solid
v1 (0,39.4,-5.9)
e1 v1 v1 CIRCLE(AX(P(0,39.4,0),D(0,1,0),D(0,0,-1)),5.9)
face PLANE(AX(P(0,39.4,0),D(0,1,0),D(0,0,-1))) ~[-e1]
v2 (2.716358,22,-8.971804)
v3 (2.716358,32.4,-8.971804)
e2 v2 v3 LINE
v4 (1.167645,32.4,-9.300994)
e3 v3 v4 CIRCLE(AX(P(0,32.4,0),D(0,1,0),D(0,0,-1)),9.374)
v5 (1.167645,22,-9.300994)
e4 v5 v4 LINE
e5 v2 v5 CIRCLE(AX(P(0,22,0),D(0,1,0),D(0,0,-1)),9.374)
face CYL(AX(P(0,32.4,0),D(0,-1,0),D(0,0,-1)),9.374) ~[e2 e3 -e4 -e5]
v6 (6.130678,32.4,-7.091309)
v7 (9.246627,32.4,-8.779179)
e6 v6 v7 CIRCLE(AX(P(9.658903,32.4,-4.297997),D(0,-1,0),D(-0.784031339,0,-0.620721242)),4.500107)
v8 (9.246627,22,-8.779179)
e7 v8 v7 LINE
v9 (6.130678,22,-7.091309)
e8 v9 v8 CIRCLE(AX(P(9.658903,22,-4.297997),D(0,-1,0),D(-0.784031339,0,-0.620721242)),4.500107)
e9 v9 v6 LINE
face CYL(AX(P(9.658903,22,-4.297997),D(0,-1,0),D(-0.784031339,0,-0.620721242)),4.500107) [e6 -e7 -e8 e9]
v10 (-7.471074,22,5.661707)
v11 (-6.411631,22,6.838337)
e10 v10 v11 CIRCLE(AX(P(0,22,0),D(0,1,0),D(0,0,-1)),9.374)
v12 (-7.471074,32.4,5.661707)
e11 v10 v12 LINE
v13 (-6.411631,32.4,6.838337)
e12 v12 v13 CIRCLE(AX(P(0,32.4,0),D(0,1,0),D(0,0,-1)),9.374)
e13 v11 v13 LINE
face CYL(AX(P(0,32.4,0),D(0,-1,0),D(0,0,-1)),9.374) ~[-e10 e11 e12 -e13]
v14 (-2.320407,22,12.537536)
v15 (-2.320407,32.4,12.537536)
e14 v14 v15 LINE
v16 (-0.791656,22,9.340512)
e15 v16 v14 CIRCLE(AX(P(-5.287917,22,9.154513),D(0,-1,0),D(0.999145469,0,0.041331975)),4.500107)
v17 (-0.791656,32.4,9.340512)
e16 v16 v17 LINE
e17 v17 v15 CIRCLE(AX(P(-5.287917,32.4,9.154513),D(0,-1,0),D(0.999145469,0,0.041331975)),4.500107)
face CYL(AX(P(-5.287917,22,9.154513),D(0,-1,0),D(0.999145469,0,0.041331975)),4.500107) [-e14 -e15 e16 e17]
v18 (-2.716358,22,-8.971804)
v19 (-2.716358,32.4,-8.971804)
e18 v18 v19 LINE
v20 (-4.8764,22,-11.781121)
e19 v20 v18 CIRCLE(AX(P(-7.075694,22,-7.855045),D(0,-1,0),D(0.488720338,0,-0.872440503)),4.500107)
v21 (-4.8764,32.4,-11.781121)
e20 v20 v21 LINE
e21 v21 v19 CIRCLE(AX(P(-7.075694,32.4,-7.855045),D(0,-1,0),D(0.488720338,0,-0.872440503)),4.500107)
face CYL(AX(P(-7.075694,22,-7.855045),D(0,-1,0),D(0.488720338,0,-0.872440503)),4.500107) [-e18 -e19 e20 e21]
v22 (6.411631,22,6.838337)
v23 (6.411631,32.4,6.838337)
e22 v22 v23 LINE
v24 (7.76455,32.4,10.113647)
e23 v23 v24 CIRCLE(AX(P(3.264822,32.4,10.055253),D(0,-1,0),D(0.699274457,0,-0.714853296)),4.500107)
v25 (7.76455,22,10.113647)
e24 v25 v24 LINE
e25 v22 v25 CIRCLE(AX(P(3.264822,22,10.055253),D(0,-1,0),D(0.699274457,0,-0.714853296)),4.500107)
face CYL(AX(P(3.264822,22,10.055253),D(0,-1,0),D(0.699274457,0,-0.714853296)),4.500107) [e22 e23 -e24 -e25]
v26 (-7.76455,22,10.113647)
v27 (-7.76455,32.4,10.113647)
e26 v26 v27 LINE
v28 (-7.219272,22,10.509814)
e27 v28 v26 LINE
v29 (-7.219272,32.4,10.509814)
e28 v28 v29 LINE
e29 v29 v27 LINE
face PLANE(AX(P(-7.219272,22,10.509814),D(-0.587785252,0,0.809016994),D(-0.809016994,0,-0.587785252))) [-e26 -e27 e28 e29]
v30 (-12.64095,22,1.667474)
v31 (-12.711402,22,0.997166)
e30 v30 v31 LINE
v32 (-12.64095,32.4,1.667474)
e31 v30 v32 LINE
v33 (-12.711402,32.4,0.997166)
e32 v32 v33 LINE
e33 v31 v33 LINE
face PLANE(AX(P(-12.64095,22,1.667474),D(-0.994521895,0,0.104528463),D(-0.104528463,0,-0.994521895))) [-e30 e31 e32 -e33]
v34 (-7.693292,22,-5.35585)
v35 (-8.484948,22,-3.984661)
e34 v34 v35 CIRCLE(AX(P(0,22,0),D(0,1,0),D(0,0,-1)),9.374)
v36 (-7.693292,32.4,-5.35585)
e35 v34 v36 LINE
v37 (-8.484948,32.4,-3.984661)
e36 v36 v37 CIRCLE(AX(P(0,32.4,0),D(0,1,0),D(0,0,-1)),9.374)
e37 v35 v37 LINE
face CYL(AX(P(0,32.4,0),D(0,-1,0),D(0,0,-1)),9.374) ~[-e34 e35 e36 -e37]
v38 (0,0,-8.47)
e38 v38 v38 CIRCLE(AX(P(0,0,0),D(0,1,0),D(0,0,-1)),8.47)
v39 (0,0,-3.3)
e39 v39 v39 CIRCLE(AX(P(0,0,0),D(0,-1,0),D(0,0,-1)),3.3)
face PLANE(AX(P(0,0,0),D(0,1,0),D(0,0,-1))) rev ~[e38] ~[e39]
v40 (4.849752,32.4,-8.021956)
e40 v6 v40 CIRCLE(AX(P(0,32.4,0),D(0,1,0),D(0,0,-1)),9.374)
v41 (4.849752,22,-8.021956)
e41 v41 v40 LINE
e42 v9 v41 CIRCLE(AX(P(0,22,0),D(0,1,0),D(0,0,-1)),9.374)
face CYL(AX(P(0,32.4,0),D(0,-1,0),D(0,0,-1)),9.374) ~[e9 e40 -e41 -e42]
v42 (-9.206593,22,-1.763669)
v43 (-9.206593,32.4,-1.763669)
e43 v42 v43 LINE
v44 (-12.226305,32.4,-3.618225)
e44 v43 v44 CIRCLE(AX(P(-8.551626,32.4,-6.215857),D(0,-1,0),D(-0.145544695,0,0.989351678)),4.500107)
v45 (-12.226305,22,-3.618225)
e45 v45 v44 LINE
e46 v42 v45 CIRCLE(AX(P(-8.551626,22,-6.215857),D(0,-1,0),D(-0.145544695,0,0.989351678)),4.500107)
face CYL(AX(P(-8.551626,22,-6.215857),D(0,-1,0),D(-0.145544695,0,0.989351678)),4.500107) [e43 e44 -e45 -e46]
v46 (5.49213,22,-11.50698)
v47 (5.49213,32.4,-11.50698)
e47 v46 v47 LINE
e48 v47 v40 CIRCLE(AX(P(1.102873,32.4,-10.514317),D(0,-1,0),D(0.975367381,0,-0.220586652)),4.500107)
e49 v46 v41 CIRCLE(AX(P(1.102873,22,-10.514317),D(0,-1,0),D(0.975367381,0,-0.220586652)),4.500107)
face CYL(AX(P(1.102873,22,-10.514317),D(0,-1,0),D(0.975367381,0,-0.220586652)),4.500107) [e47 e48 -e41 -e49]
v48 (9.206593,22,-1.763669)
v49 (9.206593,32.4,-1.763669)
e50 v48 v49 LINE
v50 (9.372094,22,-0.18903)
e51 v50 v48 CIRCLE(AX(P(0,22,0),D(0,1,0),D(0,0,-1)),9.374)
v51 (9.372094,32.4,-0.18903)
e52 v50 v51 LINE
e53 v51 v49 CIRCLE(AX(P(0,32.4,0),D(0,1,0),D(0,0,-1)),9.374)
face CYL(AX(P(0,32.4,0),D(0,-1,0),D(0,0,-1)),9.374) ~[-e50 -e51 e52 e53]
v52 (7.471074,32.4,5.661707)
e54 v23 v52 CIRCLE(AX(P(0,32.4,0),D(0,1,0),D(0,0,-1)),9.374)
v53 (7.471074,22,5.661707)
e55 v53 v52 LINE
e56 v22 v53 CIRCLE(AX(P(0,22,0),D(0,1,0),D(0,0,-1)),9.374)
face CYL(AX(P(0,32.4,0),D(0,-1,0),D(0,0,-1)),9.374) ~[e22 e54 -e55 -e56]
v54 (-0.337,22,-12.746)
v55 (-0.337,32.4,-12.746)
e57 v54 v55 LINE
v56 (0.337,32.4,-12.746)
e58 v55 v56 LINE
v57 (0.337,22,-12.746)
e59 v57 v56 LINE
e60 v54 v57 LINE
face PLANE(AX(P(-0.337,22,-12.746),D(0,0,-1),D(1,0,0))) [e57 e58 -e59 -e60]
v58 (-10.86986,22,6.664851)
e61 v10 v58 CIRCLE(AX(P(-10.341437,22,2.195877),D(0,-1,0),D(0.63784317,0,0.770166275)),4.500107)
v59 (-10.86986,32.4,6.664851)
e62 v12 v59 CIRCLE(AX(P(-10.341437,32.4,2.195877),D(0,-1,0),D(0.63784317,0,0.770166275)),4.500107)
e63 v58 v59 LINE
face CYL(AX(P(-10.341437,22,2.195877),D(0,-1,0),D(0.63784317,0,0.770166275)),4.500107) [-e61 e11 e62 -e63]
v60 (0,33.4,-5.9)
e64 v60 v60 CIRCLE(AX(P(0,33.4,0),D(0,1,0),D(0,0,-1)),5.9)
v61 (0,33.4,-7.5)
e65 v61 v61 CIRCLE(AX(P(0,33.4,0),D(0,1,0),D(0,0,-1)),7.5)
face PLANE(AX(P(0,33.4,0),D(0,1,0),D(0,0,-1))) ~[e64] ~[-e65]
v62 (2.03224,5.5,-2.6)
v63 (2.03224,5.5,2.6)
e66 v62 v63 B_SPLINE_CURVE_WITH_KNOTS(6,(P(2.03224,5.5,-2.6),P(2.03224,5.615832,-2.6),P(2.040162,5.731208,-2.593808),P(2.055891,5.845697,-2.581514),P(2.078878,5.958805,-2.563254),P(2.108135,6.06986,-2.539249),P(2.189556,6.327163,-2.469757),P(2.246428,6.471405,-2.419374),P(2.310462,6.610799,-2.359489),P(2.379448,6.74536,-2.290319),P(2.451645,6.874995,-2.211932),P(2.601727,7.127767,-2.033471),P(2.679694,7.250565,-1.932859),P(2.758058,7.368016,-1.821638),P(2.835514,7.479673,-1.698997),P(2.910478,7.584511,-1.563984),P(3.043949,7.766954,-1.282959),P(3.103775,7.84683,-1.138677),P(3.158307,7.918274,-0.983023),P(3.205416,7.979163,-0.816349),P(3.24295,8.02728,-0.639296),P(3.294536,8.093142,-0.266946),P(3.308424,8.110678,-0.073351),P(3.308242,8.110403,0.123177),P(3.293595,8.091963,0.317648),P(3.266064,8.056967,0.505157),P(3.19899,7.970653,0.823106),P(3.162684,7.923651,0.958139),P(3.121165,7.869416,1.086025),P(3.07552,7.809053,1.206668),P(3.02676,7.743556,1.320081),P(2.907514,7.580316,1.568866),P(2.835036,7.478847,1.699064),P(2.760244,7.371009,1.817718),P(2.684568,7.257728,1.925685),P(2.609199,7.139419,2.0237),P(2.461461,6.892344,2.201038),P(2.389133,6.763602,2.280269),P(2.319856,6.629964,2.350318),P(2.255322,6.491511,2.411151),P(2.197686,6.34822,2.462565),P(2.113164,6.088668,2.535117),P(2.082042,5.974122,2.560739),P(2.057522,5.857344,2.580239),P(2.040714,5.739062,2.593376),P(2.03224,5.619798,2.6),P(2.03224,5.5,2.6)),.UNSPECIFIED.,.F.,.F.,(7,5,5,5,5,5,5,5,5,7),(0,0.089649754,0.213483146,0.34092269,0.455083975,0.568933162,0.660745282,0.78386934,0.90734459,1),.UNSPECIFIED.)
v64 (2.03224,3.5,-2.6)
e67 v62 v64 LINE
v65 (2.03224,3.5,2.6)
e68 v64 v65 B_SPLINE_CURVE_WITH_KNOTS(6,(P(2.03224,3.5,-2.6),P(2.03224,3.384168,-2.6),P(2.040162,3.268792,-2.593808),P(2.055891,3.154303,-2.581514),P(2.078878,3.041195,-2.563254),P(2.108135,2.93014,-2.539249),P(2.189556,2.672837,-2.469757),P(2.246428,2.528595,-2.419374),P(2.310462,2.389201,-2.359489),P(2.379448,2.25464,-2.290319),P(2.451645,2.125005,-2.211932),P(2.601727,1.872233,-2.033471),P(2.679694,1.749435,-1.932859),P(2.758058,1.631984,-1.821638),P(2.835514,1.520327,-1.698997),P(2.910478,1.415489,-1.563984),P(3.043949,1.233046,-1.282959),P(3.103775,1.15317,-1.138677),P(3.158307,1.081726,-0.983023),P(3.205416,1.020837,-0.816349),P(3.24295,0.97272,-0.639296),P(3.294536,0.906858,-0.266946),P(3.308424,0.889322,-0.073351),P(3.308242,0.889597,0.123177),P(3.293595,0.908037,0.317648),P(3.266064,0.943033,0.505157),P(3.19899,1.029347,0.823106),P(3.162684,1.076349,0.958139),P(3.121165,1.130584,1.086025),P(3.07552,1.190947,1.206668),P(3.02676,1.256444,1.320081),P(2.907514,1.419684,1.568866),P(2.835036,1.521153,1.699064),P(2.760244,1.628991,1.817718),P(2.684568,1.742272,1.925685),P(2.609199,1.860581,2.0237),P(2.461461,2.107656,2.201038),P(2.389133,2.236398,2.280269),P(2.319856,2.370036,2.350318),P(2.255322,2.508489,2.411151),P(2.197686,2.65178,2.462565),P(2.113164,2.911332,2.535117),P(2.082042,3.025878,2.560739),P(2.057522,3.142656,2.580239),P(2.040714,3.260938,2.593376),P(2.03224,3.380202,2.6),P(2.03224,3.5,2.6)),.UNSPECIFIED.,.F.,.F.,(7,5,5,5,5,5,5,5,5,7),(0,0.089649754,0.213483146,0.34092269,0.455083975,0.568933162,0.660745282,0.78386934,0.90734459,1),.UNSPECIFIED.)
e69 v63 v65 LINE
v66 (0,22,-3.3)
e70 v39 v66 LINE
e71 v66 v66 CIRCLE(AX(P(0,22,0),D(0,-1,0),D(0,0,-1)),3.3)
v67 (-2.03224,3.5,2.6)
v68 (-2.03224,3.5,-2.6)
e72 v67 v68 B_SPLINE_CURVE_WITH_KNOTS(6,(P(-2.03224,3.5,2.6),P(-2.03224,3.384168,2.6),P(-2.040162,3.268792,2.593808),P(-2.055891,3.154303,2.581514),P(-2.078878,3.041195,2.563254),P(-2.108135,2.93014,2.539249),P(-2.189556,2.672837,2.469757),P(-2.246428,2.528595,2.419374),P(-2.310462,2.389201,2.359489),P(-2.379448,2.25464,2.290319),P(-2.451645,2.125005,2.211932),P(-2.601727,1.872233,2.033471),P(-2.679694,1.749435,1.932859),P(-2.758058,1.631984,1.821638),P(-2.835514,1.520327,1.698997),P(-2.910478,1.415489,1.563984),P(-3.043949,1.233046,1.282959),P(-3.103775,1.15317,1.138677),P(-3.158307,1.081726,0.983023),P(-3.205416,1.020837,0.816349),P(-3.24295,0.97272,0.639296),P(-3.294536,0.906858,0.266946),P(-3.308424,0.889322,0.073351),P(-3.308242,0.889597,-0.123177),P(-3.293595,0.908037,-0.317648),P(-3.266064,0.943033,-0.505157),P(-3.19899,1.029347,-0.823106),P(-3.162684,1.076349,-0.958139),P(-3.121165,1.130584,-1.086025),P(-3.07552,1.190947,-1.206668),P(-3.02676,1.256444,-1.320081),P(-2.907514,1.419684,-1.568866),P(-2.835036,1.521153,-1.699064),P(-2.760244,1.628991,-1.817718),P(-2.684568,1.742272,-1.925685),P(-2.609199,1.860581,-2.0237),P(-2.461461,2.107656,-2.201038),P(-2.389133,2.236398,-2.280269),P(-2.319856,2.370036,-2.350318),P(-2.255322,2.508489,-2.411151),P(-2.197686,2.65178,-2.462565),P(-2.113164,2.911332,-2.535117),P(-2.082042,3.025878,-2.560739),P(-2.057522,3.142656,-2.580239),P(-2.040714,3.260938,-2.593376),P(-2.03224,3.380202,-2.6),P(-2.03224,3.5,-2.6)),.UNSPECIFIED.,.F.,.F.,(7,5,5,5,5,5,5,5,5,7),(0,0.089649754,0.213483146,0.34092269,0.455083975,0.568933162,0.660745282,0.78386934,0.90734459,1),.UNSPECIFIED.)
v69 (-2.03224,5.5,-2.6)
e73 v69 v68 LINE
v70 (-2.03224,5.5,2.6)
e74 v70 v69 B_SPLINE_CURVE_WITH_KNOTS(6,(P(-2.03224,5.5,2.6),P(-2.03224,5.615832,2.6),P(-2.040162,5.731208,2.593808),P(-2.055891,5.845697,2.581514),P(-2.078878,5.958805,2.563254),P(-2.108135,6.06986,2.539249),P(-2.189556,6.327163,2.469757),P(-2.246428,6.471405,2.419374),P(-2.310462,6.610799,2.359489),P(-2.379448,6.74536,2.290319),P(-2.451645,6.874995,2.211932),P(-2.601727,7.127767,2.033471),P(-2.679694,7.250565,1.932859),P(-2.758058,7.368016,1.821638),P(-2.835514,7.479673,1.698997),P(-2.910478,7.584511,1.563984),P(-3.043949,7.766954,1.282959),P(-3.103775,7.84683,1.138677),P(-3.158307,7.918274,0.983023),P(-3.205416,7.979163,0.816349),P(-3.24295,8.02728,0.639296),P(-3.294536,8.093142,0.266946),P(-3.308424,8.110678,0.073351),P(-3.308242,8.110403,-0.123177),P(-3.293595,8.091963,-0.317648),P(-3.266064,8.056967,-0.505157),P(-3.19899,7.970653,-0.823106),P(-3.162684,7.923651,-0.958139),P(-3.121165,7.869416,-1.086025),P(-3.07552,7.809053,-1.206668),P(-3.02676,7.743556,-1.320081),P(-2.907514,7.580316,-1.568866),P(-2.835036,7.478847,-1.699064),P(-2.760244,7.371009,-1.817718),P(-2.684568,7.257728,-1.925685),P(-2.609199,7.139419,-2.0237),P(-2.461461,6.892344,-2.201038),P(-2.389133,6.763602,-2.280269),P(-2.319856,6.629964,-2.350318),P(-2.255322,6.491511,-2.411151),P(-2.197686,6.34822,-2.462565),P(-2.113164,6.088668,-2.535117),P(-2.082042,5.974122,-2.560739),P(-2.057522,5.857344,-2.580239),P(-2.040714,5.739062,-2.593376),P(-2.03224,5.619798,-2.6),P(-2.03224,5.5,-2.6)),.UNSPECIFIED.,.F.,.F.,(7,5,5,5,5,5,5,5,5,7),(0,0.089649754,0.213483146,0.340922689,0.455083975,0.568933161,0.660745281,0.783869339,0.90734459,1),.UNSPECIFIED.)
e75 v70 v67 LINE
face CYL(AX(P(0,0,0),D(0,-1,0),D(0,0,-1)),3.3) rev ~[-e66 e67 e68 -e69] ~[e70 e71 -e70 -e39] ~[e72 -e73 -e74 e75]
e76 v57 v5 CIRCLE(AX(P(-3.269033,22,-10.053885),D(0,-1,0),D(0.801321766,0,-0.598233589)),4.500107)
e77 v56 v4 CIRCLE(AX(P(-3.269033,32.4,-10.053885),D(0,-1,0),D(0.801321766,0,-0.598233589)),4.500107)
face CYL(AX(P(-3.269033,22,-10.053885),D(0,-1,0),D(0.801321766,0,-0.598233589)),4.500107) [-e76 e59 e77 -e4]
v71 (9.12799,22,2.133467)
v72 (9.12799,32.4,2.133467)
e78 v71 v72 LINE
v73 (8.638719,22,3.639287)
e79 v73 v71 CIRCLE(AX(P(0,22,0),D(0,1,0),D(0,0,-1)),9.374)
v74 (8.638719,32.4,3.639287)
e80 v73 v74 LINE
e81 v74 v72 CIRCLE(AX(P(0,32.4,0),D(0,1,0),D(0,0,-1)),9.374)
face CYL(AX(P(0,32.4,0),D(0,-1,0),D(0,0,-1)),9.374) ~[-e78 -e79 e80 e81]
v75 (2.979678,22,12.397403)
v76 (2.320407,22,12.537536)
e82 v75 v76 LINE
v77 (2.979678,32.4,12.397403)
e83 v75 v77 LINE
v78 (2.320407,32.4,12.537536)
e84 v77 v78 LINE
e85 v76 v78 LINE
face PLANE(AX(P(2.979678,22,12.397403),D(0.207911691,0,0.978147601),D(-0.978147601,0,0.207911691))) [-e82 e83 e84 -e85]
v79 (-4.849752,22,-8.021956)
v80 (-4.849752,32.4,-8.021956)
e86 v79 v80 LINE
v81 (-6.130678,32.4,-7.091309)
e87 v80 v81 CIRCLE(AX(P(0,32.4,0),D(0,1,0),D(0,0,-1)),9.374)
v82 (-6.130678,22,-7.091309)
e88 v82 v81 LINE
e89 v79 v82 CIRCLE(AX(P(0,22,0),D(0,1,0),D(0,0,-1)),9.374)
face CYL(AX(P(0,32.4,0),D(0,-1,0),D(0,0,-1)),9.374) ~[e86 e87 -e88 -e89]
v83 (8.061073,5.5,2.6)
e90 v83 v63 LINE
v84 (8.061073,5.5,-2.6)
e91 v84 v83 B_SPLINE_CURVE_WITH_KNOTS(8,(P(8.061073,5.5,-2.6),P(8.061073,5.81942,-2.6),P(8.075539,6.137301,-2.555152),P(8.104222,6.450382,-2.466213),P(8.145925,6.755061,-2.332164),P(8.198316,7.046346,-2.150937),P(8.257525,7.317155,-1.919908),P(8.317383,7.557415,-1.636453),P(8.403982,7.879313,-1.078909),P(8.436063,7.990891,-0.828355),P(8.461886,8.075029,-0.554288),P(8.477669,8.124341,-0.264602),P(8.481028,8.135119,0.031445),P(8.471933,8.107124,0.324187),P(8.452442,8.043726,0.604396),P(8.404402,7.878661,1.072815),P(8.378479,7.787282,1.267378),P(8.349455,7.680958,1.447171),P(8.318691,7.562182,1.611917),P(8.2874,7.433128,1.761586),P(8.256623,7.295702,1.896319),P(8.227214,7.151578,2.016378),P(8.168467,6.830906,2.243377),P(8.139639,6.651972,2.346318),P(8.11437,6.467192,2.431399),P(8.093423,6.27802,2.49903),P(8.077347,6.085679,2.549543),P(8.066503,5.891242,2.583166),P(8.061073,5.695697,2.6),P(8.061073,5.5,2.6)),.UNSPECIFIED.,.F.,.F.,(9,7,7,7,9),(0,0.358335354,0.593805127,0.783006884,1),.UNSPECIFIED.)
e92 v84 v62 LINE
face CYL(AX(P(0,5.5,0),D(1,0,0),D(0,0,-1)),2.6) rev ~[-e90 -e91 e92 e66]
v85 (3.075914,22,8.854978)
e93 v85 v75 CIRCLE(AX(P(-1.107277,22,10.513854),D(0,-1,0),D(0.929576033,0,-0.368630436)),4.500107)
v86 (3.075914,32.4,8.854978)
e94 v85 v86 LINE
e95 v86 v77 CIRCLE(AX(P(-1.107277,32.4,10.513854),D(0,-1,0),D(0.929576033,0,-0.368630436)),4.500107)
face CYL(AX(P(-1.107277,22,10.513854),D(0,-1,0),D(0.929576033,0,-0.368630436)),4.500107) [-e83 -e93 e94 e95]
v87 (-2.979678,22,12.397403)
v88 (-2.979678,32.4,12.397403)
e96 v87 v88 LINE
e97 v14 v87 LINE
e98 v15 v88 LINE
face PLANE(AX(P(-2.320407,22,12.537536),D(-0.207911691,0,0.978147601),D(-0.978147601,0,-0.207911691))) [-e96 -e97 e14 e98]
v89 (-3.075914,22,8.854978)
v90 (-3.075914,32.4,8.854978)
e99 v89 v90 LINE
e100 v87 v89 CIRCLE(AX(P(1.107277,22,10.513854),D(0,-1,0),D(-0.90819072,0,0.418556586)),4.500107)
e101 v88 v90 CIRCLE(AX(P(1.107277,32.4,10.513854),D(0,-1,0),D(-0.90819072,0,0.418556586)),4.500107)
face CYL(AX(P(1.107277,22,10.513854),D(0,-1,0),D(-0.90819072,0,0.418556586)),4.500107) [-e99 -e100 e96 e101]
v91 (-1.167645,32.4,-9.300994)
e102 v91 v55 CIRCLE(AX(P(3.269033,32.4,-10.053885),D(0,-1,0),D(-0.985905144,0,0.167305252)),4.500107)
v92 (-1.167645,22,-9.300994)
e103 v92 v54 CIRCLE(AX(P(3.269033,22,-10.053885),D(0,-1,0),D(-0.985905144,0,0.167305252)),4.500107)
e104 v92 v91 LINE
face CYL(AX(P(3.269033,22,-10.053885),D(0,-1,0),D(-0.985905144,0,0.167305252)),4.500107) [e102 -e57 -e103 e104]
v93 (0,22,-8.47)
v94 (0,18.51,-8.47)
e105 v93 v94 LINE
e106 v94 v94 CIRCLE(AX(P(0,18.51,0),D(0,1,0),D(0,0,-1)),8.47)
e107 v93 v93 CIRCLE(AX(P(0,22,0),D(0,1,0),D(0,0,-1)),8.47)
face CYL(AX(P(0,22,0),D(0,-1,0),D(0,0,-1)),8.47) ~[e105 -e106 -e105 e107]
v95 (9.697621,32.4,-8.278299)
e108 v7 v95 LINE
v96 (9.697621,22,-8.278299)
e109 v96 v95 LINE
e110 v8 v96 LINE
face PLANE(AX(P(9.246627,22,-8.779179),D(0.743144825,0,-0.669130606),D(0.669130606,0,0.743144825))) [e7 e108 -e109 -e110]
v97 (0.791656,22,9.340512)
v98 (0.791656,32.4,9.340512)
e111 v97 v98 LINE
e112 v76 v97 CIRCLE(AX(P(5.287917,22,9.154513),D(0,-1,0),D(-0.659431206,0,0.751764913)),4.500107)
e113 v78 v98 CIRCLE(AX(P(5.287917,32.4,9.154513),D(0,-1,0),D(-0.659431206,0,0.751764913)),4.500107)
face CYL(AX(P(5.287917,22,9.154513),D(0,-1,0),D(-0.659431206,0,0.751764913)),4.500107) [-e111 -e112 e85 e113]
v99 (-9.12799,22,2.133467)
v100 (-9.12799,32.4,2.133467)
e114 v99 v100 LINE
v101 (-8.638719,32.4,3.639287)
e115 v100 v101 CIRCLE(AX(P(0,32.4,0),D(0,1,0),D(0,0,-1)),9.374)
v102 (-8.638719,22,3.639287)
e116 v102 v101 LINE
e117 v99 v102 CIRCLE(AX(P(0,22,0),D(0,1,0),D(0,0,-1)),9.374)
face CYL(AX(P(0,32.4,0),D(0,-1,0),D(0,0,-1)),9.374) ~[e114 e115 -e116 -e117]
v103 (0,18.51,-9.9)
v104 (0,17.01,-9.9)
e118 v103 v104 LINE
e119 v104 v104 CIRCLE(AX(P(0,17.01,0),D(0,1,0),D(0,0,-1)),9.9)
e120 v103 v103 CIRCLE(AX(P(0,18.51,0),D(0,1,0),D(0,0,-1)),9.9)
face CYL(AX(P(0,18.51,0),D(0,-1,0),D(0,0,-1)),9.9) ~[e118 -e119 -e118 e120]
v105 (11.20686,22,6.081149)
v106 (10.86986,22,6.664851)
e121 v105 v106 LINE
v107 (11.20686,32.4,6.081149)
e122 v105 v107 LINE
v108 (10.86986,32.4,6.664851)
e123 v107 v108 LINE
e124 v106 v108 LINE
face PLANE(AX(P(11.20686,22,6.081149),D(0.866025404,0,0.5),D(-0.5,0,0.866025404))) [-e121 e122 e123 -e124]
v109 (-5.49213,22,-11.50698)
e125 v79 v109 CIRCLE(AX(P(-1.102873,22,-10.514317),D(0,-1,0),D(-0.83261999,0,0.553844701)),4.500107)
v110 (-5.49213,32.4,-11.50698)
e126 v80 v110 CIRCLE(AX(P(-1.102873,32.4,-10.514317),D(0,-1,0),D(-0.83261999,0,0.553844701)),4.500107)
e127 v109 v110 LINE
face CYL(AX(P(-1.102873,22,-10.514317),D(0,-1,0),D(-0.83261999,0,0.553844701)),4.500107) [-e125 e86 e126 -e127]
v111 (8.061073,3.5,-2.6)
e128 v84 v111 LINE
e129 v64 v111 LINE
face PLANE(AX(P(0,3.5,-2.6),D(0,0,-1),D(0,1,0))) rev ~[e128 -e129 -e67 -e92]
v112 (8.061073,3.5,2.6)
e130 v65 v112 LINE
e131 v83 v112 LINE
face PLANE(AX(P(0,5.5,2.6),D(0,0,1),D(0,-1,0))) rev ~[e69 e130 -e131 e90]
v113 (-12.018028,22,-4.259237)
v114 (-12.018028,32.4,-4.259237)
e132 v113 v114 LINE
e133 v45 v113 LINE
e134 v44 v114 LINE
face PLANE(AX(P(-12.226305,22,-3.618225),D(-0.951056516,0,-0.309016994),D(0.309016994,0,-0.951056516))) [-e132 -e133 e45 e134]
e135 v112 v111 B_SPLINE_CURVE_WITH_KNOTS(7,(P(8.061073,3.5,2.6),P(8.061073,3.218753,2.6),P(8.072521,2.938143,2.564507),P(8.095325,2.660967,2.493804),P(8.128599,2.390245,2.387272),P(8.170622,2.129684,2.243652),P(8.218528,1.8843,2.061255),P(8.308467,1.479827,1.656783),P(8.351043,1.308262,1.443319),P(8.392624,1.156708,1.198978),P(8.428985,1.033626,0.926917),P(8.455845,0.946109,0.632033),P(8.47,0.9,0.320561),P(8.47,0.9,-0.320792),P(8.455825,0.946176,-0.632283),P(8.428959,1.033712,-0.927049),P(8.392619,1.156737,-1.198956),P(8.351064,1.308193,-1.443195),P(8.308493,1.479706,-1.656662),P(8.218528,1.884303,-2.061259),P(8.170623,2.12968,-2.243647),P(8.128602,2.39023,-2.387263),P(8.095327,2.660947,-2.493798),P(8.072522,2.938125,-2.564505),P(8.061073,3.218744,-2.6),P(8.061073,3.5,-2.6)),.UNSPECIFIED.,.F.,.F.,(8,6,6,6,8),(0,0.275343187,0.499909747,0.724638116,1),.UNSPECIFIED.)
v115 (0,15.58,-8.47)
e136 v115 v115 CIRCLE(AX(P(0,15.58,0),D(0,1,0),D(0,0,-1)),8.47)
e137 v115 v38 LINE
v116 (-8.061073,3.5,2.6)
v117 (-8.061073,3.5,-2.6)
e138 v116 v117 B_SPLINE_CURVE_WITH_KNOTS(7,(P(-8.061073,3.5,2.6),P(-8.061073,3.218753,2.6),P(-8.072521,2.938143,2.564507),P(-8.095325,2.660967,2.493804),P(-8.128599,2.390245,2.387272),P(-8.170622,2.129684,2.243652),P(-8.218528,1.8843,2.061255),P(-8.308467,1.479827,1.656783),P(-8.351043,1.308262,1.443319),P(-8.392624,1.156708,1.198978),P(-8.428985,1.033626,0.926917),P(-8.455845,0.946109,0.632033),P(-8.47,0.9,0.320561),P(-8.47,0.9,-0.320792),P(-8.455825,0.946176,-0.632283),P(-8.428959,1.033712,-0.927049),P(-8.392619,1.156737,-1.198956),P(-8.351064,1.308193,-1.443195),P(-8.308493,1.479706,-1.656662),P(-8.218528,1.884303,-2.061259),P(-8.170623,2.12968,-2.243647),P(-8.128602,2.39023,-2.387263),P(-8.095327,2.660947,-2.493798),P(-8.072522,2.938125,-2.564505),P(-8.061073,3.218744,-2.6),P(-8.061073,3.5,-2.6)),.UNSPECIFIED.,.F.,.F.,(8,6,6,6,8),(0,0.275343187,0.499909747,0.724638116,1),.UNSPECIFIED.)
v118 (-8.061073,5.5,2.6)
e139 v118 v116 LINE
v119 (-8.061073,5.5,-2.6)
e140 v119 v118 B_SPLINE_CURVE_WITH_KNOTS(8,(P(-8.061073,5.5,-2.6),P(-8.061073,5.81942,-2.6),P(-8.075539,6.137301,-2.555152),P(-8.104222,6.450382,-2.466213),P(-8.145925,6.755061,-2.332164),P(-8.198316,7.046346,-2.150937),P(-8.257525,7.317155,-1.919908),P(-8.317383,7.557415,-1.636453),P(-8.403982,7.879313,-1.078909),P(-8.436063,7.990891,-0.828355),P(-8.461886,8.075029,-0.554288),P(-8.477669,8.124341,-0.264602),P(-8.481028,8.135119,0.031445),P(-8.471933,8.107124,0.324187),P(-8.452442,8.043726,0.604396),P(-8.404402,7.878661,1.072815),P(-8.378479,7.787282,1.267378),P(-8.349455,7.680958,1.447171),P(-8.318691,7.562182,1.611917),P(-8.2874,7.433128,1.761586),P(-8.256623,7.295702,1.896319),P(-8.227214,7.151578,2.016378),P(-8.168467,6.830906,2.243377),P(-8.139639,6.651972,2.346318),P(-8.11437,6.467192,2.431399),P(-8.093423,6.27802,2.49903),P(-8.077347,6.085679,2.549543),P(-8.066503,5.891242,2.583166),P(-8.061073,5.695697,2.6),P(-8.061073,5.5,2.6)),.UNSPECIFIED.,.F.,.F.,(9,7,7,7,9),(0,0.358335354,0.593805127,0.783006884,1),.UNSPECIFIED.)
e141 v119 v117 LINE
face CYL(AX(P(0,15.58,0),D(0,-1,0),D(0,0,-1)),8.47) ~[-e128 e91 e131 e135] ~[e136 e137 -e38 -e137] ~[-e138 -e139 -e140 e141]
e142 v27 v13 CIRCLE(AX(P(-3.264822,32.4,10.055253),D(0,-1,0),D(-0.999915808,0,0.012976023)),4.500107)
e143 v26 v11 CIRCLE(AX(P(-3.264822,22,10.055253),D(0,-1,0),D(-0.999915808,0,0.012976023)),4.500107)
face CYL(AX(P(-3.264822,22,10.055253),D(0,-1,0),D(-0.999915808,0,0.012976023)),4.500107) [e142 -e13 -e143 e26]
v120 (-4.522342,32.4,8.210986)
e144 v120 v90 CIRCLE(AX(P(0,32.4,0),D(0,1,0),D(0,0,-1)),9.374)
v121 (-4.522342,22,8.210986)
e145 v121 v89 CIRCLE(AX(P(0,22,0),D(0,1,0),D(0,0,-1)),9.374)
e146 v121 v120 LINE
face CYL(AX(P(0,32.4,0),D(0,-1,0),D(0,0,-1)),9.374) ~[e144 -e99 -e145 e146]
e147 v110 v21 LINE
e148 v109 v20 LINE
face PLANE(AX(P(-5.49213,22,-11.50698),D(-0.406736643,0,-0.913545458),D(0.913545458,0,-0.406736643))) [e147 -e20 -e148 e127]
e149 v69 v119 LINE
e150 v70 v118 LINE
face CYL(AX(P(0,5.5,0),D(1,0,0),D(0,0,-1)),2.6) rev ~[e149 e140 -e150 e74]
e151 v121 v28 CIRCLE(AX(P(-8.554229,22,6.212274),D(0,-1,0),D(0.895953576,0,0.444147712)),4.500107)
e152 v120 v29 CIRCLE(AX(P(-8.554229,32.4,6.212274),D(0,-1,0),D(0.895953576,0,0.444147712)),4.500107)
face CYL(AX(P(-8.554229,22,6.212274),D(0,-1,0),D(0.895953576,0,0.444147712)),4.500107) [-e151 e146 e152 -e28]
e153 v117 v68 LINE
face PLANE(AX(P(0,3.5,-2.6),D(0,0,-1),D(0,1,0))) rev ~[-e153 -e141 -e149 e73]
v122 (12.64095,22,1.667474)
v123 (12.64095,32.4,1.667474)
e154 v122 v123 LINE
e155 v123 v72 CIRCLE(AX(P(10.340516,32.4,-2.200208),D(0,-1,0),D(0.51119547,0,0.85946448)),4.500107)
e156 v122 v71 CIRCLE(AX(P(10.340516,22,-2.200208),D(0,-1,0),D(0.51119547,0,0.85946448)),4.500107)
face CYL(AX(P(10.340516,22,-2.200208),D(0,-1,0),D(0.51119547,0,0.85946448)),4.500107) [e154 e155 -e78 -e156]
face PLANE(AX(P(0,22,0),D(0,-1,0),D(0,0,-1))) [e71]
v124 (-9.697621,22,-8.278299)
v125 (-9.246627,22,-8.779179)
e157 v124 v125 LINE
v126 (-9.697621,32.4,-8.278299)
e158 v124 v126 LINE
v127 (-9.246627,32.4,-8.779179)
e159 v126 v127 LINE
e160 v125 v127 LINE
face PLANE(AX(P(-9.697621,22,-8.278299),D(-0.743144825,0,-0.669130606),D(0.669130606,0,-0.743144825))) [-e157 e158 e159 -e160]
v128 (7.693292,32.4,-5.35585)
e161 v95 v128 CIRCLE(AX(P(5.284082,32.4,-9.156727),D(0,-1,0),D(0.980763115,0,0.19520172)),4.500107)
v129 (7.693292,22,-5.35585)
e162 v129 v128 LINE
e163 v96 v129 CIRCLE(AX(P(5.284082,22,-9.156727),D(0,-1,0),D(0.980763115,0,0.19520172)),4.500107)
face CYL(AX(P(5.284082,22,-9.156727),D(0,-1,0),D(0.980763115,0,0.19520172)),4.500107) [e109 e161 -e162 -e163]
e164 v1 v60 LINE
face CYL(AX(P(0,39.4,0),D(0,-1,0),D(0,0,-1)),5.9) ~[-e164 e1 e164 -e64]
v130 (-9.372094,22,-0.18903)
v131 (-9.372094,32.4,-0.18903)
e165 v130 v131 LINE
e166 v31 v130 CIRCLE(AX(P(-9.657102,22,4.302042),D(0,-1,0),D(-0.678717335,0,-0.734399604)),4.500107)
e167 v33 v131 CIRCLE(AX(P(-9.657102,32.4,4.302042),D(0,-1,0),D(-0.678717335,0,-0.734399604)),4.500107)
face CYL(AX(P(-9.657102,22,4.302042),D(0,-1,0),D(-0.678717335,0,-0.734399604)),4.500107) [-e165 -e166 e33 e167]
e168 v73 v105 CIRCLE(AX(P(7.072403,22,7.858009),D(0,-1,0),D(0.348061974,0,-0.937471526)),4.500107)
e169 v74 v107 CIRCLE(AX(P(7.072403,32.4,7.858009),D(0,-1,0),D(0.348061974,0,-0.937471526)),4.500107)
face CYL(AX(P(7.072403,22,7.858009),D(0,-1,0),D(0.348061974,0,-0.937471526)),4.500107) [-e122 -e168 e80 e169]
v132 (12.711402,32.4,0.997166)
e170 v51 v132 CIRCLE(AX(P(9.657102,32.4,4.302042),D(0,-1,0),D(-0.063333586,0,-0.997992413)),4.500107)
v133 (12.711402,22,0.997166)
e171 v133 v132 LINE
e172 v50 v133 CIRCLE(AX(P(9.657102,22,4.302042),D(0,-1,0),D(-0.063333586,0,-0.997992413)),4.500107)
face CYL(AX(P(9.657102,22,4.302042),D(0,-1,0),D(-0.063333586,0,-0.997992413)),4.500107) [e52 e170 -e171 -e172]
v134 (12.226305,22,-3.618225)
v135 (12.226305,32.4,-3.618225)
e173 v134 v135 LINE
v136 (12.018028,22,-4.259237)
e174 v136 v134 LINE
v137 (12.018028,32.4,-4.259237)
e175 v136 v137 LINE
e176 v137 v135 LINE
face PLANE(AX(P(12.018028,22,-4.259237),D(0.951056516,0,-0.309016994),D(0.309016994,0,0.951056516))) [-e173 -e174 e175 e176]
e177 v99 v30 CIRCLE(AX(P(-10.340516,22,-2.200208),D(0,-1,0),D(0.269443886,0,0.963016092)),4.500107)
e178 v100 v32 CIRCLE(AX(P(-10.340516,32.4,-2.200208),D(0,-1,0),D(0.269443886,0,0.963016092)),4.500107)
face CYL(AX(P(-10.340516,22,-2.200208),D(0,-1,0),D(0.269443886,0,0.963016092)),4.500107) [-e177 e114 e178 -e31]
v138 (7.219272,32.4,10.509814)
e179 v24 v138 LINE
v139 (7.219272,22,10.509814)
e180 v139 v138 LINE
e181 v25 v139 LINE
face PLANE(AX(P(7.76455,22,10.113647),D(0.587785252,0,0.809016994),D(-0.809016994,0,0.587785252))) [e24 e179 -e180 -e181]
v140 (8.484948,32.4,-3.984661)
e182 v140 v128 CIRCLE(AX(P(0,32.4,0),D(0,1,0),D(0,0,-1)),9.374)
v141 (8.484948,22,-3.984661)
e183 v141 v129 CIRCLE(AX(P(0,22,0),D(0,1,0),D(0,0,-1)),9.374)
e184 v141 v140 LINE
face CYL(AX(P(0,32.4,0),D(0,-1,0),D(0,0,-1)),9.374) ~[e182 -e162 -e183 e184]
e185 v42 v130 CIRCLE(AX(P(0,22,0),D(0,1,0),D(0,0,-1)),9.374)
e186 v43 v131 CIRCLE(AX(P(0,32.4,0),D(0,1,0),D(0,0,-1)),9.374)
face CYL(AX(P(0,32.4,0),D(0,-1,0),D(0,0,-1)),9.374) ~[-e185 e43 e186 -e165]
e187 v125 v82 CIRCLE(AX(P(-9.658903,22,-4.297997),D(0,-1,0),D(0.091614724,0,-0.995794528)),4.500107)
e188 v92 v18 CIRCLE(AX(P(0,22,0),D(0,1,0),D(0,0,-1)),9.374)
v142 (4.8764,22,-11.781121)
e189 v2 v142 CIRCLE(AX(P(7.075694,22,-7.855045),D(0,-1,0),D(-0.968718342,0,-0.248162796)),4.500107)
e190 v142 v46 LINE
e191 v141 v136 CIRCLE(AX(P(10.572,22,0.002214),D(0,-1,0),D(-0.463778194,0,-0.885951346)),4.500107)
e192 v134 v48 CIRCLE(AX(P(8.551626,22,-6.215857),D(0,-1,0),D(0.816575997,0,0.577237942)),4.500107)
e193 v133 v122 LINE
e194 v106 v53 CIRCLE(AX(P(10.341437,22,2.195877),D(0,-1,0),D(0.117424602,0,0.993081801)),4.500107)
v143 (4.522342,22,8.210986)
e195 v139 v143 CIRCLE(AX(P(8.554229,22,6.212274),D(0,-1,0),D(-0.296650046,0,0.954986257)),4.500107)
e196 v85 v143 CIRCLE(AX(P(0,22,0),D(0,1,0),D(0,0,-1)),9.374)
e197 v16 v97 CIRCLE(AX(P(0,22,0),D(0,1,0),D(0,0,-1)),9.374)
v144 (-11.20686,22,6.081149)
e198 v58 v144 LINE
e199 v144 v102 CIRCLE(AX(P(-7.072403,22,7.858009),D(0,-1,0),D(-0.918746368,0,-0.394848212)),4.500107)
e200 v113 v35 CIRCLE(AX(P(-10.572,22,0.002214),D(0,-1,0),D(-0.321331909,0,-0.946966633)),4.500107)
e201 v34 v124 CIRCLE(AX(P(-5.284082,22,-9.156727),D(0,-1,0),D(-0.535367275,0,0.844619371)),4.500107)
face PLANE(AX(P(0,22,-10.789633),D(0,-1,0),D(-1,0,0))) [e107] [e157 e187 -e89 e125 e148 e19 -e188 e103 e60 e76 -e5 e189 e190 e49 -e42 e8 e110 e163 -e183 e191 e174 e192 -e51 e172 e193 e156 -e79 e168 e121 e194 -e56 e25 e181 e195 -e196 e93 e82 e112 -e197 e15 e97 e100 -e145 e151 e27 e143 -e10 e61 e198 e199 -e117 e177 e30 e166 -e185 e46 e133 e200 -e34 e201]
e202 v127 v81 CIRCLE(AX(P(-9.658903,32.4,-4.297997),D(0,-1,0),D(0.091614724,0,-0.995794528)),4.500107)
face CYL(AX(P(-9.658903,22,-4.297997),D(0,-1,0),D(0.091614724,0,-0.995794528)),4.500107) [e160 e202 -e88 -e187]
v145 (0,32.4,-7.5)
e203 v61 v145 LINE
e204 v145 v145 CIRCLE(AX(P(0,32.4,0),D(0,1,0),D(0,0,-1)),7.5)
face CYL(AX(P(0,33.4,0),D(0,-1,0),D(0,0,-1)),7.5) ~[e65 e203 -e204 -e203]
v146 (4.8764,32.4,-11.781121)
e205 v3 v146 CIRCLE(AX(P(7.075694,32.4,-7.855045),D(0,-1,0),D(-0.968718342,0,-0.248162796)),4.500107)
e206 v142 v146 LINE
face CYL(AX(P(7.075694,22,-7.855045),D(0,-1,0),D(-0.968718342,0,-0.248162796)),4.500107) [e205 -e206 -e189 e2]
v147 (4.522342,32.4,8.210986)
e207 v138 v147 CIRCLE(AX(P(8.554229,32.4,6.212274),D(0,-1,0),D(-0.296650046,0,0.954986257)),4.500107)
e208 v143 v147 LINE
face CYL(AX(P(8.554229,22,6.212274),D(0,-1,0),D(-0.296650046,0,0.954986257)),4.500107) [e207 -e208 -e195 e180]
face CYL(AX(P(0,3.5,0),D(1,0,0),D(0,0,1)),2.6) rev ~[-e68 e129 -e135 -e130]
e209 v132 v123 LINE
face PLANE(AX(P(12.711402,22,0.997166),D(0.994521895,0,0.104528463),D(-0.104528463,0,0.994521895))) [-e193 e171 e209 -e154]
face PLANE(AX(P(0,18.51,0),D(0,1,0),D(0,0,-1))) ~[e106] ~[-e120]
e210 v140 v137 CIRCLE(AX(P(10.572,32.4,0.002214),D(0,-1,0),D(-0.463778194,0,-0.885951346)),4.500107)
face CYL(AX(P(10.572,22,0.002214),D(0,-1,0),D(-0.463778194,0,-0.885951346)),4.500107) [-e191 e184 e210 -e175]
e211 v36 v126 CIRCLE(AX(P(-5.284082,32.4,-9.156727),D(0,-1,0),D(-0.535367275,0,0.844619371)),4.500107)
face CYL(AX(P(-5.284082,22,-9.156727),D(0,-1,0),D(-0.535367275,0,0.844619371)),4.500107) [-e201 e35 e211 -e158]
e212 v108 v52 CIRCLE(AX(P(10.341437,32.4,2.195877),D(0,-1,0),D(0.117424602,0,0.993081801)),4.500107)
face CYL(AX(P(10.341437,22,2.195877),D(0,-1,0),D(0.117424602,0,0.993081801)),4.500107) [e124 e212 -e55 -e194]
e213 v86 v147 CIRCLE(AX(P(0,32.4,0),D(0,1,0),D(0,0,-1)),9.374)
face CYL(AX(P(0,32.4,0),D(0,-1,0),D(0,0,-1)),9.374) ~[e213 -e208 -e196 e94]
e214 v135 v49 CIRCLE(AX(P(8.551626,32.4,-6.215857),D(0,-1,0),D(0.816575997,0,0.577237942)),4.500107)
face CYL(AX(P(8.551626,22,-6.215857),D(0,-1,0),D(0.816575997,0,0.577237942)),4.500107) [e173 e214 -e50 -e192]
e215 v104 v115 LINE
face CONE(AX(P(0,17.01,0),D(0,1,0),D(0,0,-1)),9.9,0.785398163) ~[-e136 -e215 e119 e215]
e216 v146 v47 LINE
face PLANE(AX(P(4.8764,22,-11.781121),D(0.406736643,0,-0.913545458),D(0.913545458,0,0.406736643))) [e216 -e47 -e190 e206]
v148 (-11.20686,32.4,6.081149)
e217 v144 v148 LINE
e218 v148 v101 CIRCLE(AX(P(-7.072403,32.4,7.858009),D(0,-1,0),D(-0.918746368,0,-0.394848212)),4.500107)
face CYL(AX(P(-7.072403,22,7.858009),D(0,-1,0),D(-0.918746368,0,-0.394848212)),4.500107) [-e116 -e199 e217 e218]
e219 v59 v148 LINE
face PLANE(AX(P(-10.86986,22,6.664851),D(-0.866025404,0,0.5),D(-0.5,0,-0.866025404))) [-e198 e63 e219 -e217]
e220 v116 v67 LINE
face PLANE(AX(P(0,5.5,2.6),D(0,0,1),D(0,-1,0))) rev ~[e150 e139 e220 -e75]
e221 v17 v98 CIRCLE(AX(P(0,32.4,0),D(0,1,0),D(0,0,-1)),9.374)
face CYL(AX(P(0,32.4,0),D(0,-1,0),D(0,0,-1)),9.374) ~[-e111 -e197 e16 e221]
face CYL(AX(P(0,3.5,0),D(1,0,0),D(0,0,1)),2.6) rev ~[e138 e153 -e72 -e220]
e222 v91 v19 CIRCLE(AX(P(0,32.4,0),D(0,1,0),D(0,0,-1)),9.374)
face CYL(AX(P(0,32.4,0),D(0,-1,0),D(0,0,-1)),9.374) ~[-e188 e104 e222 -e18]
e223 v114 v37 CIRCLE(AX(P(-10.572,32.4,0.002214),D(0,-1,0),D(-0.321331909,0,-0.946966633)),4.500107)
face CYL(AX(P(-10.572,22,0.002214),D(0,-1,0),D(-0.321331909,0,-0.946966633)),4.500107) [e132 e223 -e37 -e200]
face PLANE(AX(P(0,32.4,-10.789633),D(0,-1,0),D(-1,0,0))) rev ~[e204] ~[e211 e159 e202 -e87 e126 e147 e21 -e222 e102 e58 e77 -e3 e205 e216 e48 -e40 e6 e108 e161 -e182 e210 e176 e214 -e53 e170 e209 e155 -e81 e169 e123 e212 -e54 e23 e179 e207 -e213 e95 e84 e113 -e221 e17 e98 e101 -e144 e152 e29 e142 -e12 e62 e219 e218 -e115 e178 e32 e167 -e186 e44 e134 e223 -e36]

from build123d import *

# Parameters (mm, degrees)
RESSALTO_EXTRUS_O1_START = -10.4
RESSALTO_EXTRUS_O1_DEPTH = 10.4
PADR_OCIRCULAR1_COUNT    = 15
ESBO_O3_R                = 3.3
CORTE_EXTRUS_O1_DEPTH    = 22
CORTE_EXTRUS_O4_DEPTH    = 20


with BuildPart() as part:
    # Esboço1 → Revolução1 (revolve)
    with BuildSketch(Plane.XY, mode=Mode.PRIVATE) as revolu_o1_sk:
        Polygon((0, 0), (0, 39.4), (5.9, 39.4), (5.9, 33.4), (7.5, 33.4), (7.5, 32.4), (9.374, 32.4), (9.374, 22), (8.47, 22), (8.47, 18.51), (9.9, 18.51), (9.9, 17.01), (8.47, 15.58), (8.47, 0), align=None)
    revolve(revolu_o1_sk.sketch.rotate(Axis((0, 0, 0), (0, 1, 0)), 90), axis=Axis((0, 0, 0), (0, 1, 0)))

    # Esboço2 → Ressalto-extrusão1 (add)
    with BuildSketch(Plane(origin=(0, 32.4, 0), x_dir=(1, 0, 0), z_dir=(0, 1, 0)).offset(RESSALTO_EXTRUS_O1_START)):
        with BuildLine():
            Line((-0.337, 12.746), (0.337, 12.746))
            ThreePointArc((0.337, 12.746), (1.105703178, 11.108702403), (1.167644885, 9.300993572))
            ThreePointArc((1.167644885, 9.300993572), (0, 9.374), (-1.167644885, 9.300993572))
            ThreePointArc((-1.167644885, 9.300993572), (-1.105703178, 11.108702403), (-0.337, 12.746))
        make_face()
    ressalto_extrus_o1 = extrude(amount=RESSALTO_EXTRUS_O1_DEPTH)

    # PadrãoCircular1: Ressalto-extrusão1 ×15 about axis
    padr_ocircular1_axis = Axis((0, 0, 0), (0, 1, 0))
    for i in range(1, PADR_OCIRCULAR1_COUNT):
        add(ressalto_extrus_o1.rotate(padr_ocircular1_axis, i * 360 / PADR_OCIRCULAR1_COUNT))

    # Esboço3 → Corte-extrusão1 (cut)
    with BuildSketch(Plane.XZ):
        with Locations(Location((0, 0, 0), (0, 0, 270))):
            Circle(ESBO_O3_R)
    extrude(amount=-CORTE_EXTRUS_O1_DEPTH, mode=Mode.SUBTRACT)

    # Esboço7 → Corte-extrusão4 (cut, symmetric)
    with BuildSketch(Plane(origin=(0, 0, 0), x_dir=(0, 0, -1), z_dir=(1, 0, 0))):
        with BuildLine():
            Line((-2.6, 5.5), (-2.6, 3.5))
            ThreePointArc((-2.6, 3.5), (0, 0.9), (2.6, 3.5))
            Line((2.6, 3.5), (2.6, 5.5))
            ThreePointArc((2.6, 5.5), (0, 8.1), (-2.6, 5.5))
        make_face()
    extrude(amount=CORTE_EXTRUS_O4_DEPTH, both=True, mode=Mode.SUBTRACT)


solid = part.part
